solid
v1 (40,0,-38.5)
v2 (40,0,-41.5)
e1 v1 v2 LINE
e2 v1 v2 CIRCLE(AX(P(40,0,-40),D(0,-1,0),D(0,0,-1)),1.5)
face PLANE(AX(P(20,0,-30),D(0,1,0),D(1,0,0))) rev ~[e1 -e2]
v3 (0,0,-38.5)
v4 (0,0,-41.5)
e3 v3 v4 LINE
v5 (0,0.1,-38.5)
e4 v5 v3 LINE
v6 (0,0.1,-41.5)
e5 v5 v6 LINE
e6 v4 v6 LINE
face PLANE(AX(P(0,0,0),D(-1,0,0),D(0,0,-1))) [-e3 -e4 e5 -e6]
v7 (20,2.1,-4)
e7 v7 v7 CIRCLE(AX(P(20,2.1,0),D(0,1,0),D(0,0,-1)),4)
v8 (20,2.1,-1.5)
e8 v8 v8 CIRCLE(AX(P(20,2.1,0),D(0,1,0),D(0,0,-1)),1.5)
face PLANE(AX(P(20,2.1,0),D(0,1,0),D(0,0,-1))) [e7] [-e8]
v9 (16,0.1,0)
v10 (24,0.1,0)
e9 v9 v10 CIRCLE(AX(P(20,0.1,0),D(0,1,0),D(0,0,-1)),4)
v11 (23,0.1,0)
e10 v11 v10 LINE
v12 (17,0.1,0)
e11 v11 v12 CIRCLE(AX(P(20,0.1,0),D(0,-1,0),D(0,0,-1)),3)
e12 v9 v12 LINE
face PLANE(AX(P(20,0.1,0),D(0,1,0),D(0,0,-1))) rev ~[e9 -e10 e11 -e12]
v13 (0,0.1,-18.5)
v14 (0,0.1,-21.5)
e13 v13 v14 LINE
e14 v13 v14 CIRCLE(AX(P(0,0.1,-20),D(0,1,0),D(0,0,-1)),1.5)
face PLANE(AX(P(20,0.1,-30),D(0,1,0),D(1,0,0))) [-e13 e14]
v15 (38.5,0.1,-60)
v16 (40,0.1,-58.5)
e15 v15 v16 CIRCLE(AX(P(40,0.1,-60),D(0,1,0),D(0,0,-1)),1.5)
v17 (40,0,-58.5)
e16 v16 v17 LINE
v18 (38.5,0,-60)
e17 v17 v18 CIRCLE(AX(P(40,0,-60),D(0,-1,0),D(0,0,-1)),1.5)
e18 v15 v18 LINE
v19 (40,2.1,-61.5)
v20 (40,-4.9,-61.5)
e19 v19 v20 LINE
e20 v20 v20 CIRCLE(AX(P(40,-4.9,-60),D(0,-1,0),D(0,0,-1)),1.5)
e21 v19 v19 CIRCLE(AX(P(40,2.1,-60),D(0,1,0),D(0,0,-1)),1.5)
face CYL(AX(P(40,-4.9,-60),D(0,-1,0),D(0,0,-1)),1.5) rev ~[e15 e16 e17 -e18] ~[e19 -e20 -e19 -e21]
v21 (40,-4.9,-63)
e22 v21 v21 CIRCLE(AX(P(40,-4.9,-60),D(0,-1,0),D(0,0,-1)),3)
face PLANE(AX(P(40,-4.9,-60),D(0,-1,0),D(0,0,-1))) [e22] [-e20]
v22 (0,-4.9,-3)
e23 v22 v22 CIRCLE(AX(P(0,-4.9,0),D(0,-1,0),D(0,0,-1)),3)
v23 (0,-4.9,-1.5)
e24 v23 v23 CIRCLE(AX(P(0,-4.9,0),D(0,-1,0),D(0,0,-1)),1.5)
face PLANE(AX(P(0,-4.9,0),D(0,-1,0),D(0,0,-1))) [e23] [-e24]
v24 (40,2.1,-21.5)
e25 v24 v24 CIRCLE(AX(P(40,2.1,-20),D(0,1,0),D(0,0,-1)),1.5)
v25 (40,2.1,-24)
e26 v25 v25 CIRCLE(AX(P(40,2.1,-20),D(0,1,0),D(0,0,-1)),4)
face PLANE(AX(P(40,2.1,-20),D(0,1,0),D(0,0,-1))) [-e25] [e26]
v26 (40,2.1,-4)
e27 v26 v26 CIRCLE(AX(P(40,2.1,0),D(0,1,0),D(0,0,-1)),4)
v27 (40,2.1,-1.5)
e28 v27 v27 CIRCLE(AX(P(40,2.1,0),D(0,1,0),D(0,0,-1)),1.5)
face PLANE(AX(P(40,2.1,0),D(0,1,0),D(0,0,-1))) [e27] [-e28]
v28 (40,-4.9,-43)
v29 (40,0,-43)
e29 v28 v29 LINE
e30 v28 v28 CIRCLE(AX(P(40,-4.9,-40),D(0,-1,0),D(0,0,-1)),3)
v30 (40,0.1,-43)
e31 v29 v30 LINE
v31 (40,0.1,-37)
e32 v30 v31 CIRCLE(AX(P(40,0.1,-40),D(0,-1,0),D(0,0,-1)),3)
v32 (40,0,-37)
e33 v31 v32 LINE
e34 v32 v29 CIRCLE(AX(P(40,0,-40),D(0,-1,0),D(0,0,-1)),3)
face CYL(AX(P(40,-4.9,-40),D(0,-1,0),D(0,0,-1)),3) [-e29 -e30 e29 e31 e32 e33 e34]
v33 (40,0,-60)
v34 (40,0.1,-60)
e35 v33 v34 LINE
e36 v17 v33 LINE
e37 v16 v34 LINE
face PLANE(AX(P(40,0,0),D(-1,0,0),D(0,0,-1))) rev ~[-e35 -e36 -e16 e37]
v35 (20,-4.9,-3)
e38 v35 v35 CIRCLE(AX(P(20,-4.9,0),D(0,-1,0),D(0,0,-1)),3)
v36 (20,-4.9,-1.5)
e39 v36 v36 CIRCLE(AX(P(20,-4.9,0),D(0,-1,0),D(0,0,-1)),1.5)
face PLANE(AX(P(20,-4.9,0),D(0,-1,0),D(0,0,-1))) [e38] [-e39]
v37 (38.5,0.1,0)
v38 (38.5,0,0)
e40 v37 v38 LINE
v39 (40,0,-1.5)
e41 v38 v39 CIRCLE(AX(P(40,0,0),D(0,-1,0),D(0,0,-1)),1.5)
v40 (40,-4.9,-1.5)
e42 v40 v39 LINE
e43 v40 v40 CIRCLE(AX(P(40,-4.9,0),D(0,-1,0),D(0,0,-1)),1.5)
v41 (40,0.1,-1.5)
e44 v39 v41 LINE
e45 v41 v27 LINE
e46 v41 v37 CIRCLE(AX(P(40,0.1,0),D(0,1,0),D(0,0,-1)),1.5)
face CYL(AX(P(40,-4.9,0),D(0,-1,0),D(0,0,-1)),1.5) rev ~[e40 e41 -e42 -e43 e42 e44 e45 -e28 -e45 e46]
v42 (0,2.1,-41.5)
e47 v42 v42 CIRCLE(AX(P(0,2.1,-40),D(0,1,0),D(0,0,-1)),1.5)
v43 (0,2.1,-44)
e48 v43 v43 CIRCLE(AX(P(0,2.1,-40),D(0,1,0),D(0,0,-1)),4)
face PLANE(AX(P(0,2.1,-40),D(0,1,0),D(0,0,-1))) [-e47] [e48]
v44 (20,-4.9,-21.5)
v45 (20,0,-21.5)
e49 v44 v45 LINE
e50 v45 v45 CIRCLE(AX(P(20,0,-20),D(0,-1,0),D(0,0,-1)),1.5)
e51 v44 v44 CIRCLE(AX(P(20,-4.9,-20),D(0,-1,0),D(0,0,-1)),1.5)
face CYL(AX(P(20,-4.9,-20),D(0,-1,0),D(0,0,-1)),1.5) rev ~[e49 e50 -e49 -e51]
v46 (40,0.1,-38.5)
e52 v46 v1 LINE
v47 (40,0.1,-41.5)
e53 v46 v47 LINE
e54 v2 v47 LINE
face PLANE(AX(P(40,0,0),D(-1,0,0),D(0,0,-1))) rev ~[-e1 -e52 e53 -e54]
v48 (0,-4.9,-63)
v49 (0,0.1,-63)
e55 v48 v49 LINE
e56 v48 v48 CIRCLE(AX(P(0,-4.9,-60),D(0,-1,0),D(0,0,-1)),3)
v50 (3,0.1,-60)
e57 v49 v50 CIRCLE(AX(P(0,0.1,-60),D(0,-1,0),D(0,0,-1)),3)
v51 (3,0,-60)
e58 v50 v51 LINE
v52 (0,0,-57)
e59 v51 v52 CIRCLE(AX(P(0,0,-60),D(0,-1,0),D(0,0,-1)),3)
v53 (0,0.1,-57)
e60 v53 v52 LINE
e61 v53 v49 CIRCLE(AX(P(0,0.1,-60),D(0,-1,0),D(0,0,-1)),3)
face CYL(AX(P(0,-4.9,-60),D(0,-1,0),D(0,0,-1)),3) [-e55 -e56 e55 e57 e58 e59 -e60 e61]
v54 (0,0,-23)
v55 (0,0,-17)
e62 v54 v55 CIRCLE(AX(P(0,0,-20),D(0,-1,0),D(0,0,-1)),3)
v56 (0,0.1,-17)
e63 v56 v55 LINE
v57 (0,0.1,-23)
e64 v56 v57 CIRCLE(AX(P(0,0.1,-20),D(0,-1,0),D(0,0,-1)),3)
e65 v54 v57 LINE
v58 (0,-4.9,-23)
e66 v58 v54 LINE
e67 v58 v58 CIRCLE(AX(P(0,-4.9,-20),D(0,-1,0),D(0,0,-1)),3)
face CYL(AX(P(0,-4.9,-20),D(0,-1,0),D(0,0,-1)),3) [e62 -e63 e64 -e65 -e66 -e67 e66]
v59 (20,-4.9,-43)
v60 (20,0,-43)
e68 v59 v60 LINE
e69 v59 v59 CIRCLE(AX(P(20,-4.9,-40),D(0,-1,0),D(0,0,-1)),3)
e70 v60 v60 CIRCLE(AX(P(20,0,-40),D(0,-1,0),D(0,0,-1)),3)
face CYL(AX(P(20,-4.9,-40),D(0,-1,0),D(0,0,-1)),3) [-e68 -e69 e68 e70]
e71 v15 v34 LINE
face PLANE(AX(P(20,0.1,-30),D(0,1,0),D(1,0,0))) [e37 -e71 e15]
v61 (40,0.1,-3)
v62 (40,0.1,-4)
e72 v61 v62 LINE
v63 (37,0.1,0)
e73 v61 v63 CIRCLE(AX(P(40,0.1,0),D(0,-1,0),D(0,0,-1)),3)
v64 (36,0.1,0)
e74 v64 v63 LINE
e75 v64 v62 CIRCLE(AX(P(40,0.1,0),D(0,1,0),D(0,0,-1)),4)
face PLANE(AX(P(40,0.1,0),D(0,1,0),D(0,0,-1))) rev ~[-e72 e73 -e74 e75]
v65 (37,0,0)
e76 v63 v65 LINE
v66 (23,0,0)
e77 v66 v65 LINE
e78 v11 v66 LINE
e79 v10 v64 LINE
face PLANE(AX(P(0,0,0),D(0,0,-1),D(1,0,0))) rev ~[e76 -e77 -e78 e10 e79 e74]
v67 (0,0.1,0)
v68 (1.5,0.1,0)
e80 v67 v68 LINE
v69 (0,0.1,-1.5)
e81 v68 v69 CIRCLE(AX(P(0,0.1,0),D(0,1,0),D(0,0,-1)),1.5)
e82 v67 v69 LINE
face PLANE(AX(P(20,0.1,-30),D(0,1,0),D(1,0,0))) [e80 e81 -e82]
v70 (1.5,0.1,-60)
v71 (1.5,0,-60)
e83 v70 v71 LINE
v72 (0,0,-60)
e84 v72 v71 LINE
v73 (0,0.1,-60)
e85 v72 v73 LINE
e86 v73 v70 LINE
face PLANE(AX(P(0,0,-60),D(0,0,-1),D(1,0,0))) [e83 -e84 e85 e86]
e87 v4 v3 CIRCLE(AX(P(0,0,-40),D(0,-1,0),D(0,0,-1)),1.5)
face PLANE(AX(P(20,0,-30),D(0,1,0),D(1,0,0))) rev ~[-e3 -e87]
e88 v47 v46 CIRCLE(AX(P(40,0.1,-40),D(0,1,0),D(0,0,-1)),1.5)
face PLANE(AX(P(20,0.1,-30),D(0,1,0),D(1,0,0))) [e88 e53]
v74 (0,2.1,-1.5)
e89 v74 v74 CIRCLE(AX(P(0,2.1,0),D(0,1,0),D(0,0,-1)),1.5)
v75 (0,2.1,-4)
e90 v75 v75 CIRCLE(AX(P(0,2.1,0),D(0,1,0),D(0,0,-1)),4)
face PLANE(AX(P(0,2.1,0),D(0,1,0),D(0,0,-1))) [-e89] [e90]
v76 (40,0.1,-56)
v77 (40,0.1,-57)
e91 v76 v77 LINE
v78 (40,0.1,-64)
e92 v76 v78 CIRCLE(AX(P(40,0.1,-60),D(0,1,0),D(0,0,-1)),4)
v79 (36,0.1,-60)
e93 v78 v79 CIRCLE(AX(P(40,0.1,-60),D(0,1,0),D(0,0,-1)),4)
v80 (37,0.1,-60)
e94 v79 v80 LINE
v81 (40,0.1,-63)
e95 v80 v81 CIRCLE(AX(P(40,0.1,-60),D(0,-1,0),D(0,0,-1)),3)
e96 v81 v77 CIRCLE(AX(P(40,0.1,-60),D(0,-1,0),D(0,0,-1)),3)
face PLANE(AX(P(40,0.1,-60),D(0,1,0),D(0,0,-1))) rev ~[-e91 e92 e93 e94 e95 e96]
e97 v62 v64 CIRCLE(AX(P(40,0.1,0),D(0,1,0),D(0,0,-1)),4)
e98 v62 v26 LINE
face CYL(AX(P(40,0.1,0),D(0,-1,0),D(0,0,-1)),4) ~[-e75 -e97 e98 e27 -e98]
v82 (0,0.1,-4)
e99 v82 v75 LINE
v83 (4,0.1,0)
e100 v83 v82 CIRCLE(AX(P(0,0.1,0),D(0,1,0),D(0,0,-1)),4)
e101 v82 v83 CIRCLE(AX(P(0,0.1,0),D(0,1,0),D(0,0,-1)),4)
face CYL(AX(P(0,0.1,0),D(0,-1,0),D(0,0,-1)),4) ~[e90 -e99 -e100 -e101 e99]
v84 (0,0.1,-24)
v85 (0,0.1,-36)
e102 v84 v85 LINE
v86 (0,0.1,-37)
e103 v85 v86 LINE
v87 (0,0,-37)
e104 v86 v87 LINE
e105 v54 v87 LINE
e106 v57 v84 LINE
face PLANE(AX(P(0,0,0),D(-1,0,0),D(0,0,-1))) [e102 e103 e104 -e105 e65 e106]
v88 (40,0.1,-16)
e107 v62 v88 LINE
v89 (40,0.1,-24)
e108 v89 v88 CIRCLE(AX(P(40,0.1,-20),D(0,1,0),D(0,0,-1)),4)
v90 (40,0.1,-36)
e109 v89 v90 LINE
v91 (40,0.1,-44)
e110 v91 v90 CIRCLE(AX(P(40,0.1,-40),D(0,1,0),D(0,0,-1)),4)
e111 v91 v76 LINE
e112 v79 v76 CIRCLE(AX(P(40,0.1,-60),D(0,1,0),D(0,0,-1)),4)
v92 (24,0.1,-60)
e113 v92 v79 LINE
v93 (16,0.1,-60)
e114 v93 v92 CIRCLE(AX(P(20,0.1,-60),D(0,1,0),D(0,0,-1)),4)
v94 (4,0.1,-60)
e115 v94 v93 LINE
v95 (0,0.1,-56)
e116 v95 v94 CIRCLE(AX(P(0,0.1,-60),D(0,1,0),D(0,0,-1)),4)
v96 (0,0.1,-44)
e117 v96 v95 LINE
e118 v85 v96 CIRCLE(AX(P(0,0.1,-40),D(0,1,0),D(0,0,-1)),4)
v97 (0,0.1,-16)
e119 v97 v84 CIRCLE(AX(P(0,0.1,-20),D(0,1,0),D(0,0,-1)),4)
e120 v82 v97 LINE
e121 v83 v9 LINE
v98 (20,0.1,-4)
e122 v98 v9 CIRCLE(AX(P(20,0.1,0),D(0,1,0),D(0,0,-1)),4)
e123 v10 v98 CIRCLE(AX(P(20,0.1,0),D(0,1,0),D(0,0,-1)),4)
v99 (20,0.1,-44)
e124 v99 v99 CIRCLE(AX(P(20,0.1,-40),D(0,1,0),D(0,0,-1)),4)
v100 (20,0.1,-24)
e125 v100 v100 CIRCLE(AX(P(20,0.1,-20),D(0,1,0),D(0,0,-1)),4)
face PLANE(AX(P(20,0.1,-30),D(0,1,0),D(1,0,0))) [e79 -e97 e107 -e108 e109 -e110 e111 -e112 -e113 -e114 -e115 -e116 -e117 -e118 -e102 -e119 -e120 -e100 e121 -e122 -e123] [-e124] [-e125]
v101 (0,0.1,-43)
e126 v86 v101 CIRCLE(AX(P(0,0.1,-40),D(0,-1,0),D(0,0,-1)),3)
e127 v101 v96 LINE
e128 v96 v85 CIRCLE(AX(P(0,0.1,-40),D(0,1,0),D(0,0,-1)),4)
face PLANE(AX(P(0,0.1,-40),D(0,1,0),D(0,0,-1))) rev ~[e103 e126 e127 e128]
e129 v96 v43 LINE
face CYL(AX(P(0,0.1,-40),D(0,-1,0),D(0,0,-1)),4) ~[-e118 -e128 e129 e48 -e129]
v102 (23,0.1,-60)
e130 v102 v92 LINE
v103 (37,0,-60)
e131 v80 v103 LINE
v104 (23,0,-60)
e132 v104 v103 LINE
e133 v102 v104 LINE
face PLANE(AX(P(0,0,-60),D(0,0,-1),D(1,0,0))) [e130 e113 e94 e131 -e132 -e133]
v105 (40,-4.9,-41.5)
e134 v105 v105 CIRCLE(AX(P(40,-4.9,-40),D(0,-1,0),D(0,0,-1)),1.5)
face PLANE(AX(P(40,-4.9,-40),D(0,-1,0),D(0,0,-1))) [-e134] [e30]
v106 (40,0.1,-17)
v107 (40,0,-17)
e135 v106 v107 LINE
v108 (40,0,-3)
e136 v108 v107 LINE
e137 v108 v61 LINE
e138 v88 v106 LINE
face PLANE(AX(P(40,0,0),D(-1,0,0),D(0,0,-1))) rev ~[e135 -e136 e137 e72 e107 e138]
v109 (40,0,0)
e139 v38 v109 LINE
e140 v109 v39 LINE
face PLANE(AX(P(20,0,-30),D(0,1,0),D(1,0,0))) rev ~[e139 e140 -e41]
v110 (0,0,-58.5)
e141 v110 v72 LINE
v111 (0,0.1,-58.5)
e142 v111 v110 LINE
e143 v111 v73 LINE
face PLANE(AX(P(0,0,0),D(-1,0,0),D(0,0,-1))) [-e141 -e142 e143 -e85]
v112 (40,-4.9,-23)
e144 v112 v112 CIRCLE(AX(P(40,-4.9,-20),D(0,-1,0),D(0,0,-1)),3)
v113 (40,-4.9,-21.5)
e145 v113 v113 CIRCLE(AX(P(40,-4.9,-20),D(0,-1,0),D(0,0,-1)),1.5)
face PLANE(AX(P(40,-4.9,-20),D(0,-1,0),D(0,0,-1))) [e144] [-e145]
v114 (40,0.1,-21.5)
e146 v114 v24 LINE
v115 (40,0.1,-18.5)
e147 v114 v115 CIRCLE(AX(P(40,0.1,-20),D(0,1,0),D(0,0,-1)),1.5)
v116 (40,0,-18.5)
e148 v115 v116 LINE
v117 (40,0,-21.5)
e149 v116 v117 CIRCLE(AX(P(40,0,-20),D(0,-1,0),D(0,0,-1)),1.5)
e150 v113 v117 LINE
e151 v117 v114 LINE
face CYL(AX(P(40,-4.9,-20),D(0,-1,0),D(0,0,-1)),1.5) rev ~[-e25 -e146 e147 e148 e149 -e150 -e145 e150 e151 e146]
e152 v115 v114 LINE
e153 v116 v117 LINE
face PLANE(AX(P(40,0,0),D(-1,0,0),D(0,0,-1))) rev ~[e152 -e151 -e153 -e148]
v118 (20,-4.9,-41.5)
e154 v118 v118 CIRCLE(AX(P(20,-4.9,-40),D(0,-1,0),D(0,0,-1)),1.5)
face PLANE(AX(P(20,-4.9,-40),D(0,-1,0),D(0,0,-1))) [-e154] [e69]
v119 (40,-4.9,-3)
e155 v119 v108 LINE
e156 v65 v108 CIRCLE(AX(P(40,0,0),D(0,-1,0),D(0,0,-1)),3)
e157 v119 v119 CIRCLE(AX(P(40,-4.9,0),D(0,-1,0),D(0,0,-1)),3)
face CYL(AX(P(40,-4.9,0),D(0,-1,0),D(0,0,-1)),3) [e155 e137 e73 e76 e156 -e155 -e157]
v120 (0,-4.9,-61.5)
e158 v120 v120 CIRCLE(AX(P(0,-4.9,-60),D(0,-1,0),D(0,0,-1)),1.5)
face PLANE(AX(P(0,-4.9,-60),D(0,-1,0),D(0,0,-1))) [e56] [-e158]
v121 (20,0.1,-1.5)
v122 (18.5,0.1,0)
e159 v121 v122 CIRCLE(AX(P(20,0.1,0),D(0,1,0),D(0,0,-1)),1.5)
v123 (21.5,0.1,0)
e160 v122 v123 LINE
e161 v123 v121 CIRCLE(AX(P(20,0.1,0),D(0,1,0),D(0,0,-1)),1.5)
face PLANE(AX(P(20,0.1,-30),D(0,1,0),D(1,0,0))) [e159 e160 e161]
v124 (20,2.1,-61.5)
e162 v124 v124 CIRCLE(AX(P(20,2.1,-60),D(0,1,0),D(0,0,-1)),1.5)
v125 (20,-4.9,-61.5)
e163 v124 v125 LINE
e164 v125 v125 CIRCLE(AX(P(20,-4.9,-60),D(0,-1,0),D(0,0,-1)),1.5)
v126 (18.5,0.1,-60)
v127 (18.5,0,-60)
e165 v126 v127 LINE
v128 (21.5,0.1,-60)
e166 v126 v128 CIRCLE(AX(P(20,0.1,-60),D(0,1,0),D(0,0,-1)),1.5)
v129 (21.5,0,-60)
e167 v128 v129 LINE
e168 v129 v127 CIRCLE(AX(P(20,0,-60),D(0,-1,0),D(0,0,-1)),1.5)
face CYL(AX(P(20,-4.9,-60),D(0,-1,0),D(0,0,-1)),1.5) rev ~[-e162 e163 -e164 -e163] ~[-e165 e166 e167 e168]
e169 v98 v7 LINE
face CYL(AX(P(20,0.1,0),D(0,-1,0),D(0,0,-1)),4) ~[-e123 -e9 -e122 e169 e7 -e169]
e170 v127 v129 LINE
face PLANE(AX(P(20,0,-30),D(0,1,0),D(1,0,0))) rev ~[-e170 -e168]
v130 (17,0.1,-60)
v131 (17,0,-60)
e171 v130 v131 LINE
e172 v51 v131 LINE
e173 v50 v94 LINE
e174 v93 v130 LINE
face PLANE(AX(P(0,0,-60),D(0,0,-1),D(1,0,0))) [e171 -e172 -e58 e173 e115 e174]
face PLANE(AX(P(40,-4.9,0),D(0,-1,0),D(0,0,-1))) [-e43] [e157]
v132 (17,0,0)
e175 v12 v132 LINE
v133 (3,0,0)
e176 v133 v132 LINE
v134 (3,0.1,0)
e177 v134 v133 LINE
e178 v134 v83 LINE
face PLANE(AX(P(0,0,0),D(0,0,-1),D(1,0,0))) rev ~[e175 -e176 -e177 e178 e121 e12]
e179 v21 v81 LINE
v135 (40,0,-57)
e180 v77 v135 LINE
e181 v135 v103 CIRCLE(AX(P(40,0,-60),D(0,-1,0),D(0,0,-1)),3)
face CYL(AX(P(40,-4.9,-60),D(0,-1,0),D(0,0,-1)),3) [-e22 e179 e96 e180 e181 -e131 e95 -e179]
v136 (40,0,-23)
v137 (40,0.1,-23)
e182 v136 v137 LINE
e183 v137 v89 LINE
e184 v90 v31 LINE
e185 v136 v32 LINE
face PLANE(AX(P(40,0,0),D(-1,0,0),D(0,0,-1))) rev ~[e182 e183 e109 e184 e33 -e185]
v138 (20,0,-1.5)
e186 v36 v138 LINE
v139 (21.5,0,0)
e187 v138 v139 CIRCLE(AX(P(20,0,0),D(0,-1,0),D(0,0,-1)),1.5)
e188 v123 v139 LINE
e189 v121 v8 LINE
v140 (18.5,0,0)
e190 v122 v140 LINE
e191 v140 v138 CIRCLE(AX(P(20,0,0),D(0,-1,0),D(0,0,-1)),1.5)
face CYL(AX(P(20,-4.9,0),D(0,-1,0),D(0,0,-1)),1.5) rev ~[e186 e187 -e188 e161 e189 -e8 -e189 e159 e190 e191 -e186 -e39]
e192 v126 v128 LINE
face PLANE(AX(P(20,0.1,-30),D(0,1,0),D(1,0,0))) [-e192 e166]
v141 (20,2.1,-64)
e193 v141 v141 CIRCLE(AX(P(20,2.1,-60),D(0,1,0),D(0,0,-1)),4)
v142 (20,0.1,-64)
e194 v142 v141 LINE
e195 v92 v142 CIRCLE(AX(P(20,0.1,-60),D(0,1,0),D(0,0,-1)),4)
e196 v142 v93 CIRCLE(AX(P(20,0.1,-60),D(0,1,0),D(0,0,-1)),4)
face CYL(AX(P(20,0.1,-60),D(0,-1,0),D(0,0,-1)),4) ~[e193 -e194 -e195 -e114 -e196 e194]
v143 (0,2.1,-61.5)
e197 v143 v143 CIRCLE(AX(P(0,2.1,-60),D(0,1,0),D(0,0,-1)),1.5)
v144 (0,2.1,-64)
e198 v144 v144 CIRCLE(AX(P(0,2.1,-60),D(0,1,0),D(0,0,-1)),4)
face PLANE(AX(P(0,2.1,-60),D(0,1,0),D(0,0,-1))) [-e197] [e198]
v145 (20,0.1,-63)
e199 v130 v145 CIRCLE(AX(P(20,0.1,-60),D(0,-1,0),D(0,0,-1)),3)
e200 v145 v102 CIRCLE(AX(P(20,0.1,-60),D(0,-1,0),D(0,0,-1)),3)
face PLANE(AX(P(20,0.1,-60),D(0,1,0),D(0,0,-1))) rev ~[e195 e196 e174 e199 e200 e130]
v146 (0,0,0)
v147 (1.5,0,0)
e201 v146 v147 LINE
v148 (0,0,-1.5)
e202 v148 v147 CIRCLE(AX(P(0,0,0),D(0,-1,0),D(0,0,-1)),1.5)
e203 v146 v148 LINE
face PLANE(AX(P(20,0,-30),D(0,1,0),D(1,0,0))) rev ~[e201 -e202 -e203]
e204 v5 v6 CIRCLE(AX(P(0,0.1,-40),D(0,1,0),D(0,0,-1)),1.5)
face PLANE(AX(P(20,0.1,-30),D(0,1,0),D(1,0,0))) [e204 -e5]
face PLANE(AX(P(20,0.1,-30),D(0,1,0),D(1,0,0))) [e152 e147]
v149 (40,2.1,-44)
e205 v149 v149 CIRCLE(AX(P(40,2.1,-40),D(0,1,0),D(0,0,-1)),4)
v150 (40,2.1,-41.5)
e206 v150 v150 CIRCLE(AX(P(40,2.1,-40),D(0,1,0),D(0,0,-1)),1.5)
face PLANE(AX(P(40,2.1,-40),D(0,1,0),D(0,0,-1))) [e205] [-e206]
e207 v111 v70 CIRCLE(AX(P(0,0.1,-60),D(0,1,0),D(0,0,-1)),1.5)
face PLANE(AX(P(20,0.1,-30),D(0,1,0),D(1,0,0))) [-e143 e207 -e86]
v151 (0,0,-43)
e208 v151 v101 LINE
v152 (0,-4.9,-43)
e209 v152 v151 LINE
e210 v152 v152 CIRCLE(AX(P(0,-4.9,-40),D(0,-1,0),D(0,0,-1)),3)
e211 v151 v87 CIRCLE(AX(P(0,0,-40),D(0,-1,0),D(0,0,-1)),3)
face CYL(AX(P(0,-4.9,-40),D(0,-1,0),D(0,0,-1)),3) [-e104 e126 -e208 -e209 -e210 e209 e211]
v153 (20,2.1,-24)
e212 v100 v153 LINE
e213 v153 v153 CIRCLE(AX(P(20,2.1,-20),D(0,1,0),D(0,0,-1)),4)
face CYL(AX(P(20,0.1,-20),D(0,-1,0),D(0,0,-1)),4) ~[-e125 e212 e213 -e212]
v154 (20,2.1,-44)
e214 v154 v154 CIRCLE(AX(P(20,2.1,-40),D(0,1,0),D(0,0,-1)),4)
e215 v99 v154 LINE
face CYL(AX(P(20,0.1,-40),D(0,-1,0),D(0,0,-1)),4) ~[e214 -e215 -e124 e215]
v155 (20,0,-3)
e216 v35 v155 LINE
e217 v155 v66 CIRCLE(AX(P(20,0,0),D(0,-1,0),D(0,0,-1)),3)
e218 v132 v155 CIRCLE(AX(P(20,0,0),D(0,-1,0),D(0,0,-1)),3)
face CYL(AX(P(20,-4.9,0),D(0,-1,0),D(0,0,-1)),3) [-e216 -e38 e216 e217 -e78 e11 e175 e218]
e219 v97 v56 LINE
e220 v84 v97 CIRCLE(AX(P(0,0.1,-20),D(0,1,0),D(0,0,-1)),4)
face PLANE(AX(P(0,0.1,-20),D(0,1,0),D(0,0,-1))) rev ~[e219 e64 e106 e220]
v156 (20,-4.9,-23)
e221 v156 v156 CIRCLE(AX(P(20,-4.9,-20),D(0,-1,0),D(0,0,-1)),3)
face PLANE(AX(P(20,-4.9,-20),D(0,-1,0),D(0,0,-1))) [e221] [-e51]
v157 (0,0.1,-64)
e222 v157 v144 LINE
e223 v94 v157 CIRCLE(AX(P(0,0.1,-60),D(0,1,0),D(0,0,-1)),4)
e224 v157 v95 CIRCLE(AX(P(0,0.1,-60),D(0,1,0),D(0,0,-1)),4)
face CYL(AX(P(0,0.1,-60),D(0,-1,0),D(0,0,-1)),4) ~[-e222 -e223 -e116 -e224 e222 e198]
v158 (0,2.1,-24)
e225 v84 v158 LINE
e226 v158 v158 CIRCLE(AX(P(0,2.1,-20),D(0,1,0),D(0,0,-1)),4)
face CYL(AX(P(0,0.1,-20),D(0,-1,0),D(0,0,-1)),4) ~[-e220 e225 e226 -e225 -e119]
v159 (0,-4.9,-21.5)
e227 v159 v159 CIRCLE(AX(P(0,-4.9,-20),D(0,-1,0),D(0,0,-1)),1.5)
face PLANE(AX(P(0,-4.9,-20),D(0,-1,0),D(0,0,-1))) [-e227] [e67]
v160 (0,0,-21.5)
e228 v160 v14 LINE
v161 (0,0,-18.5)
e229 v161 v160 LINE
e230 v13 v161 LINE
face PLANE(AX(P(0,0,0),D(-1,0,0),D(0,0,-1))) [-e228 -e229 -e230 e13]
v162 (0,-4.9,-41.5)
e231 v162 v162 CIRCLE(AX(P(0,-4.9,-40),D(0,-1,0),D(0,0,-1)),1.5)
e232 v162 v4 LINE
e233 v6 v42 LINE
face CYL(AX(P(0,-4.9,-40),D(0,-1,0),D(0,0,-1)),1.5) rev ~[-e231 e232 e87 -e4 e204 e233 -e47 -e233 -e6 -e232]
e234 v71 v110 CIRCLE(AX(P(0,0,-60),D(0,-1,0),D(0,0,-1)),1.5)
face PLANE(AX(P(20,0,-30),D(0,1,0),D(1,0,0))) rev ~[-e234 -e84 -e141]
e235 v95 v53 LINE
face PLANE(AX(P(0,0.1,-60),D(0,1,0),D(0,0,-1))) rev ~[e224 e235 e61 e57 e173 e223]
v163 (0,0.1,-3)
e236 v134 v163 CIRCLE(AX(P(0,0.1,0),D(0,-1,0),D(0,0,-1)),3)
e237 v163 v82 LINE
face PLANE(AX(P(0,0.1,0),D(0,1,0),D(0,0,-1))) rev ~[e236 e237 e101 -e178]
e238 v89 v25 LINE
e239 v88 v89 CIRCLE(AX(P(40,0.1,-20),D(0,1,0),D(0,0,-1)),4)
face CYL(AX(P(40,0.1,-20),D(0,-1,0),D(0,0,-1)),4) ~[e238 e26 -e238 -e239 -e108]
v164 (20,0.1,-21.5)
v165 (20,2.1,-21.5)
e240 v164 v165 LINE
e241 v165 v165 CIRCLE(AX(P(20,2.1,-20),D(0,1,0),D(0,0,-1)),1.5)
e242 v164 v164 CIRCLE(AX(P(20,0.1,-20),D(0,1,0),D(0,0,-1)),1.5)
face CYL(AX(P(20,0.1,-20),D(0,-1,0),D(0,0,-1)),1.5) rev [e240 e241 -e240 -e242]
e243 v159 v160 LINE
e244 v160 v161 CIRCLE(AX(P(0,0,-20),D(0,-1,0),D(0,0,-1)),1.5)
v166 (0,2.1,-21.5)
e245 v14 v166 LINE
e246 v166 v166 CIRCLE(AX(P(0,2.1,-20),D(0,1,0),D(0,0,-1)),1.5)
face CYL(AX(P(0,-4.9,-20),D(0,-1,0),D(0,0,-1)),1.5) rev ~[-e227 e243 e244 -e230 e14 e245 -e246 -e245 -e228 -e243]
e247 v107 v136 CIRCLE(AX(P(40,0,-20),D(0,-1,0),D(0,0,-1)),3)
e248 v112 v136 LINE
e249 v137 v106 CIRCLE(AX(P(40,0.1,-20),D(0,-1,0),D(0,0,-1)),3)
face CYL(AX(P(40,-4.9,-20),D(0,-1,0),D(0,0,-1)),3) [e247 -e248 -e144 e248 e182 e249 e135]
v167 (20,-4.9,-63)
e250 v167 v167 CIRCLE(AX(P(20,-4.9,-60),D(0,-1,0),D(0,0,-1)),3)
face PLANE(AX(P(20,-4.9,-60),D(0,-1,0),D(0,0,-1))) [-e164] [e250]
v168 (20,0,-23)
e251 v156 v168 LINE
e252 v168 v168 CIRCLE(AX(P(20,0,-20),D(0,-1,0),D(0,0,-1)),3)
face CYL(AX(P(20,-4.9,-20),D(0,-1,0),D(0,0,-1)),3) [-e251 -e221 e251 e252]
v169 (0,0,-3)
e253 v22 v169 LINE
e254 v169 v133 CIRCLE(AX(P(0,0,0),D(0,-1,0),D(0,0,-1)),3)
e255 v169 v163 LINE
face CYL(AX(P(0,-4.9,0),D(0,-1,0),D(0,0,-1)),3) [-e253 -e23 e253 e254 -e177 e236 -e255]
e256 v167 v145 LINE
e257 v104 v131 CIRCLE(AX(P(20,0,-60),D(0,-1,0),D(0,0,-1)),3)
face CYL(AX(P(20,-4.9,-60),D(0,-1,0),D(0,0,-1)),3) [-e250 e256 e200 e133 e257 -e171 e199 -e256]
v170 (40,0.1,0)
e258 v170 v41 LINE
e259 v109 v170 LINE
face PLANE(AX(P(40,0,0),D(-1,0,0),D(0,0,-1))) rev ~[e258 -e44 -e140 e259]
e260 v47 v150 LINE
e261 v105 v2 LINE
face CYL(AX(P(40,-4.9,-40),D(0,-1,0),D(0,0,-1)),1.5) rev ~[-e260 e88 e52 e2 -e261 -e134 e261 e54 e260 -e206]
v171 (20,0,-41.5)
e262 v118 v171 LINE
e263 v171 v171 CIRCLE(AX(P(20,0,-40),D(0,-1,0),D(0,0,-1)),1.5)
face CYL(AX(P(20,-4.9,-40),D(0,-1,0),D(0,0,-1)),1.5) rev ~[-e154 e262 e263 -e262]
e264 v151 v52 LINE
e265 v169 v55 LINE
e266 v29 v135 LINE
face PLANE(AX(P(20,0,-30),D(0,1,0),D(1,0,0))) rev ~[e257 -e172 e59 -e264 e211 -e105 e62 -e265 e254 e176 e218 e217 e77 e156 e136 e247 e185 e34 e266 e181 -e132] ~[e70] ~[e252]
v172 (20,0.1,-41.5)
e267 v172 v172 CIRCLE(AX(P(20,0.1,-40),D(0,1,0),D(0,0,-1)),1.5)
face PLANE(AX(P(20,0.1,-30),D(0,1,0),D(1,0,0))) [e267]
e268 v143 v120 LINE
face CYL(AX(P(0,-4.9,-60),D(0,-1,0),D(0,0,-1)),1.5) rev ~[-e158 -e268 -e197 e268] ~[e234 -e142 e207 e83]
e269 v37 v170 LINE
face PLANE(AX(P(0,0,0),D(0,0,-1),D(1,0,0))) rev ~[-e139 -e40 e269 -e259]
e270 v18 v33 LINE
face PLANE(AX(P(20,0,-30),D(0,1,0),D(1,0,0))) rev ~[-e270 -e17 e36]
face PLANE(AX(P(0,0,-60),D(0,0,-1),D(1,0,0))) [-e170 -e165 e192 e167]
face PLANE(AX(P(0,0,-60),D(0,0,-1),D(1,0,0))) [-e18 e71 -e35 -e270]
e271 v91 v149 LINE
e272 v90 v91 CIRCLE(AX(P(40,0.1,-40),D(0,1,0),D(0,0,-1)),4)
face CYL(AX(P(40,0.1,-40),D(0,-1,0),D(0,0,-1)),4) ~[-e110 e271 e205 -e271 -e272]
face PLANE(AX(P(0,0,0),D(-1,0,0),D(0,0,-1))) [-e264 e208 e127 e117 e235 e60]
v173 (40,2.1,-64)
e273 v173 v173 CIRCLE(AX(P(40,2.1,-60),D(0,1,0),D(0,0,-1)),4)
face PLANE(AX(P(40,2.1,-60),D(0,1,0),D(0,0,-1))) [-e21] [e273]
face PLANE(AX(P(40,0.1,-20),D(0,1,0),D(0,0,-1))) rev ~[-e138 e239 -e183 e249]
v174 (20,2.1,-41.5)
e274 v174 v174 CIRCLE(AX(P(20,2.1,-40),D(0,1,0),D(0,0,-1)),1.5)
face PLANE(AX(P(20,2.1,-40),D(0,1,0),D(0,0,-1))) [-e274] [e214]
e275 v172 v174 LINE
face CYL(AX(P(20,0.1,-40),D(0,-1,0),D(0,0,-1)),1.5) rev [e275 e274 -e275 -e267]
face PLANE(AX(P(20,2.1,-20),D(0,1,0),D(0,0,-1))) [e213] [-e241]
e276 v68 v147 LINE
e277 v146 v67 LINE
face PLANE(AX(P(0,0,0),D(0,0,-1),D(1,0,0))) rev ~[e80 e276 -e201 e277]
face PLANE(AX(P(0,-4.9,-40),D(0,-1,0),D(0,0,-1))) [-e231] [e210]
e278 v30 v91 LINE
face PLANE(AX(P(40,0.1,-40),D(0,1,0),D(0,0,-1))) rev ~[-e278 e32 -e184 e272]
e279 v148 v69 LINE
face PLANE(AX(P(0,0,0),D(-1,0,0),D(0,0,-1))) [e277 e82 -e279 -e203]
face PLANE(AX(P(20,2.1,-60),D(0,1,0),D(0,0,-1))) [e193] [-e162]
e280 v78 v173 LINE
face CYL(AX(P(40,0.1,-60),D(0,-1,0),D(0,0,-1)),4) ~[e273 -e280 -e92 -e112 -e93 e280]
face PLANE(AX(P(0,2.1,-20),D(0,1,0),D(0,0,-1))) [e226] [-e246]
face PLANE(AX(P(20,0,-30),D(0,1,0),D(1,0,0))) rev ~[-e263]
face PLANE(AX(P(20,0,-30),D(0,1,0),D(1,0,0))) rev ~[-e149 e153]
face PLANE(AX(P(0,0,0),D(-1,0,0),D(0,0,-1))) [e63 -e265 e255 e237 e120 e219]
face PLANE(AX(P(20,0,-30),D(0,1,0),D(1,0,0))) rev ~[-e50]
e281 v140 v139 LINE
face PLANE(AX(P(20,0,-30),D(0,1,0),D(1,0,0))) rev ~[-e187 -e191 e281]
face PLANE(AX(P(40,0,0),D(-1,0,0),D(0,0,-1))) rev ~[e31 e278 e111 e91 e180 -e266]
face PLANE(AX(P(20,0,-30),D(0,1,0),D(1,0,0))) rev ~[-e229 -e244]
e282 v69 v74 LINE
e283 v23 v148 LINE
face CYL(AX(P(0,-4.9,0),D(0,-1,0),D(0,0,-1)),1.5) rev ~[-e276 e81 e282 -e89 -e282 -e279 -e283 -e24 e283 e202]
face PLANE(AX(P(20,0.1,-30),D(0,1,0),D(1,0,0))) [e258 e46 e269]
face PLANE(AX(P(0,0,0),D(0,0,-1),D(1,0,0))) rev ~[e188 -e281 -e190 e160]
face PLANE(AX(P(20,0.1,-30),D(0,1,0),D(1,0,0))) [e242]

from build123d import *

# Parameters (mm, degrees)
SKETCH2_W            = 40
SKETCH2_H            = 60
BOSS_EXTRUDE1_DEPTH  = 0.1
SKETCH3_R            = 4
SKETCH3_R_2          = 1.5
BOSS_EXTRUDE2_DEPTH  = 2
BOSS_EXTRUDE5_START  = 5
SKETCH7_R            = 3
SKETCH7_R_2          = 1.5
BOSS_EXTRUDE5_DEPTH  = 5
LPATTERN1_COUNT      = 3
LPATTERN1_PITCH      = 20
LPATTERN1_COUNT_DIR2 = 4
LPATTERN1_PITCH_DIR2 = 20


with BuildPart() as part:
    # Sketch2 → Boss-Extrude1 (new body)
    with BuildSketch(Plane(origin=(0, 0, 0), x_dir=(1, 0, 0), z_dir=(0, 1, 0))):
        with Locations((20, 30)):
            Rectangle(SKETCH2_W, SKETCH2_H)
    extrude(amount=BOSS_EXTRUDE1_DEPTH)

    # Sketch3 → Boss-Extrude2 (add)
    with BuildSketch(Plane(origin=(0, 0.1, 0), x_dir=(1, 0, 0), z_dir=(0, 1, 0))):
        Circle(SKETCH3_R)
        Circle(SKETCH3_R_2, mode=Mode.SUBTRACT)
    boss_extrude2 = extrude(amount=BOSS_EXTRUDE2_DEPTH)

    # Sketch7 → Boss-Extrude5 (add)
    with BuildSketch(Plane.XZ.offset(-0.1).offset(BOSS_EXTRUDE5_START)):
        Circle(SKETCH7_R)
        Circle(SKETCH7_R_2, mode=Mode.SUBTRACT)
    boss_extrude5 = extrude(amount=-BOSS_EXTRUDE5_DEPTH)

    # LPattern1: Boss-Extrude2, Boss-Extrude5 3 × 4
    with Locations(*[(i * LPATTERN1_PITCH, 0, -j * LPATTERN1_PITCH_DIR2) for i in range(LPATTERN1_COUNT) for j in range(LPATTERN1_COUNT_DIR2) if (i, j) != (0, 0)]):
        add(boss_extrude2)
        add(boss_extrude5)


solid = part.part
